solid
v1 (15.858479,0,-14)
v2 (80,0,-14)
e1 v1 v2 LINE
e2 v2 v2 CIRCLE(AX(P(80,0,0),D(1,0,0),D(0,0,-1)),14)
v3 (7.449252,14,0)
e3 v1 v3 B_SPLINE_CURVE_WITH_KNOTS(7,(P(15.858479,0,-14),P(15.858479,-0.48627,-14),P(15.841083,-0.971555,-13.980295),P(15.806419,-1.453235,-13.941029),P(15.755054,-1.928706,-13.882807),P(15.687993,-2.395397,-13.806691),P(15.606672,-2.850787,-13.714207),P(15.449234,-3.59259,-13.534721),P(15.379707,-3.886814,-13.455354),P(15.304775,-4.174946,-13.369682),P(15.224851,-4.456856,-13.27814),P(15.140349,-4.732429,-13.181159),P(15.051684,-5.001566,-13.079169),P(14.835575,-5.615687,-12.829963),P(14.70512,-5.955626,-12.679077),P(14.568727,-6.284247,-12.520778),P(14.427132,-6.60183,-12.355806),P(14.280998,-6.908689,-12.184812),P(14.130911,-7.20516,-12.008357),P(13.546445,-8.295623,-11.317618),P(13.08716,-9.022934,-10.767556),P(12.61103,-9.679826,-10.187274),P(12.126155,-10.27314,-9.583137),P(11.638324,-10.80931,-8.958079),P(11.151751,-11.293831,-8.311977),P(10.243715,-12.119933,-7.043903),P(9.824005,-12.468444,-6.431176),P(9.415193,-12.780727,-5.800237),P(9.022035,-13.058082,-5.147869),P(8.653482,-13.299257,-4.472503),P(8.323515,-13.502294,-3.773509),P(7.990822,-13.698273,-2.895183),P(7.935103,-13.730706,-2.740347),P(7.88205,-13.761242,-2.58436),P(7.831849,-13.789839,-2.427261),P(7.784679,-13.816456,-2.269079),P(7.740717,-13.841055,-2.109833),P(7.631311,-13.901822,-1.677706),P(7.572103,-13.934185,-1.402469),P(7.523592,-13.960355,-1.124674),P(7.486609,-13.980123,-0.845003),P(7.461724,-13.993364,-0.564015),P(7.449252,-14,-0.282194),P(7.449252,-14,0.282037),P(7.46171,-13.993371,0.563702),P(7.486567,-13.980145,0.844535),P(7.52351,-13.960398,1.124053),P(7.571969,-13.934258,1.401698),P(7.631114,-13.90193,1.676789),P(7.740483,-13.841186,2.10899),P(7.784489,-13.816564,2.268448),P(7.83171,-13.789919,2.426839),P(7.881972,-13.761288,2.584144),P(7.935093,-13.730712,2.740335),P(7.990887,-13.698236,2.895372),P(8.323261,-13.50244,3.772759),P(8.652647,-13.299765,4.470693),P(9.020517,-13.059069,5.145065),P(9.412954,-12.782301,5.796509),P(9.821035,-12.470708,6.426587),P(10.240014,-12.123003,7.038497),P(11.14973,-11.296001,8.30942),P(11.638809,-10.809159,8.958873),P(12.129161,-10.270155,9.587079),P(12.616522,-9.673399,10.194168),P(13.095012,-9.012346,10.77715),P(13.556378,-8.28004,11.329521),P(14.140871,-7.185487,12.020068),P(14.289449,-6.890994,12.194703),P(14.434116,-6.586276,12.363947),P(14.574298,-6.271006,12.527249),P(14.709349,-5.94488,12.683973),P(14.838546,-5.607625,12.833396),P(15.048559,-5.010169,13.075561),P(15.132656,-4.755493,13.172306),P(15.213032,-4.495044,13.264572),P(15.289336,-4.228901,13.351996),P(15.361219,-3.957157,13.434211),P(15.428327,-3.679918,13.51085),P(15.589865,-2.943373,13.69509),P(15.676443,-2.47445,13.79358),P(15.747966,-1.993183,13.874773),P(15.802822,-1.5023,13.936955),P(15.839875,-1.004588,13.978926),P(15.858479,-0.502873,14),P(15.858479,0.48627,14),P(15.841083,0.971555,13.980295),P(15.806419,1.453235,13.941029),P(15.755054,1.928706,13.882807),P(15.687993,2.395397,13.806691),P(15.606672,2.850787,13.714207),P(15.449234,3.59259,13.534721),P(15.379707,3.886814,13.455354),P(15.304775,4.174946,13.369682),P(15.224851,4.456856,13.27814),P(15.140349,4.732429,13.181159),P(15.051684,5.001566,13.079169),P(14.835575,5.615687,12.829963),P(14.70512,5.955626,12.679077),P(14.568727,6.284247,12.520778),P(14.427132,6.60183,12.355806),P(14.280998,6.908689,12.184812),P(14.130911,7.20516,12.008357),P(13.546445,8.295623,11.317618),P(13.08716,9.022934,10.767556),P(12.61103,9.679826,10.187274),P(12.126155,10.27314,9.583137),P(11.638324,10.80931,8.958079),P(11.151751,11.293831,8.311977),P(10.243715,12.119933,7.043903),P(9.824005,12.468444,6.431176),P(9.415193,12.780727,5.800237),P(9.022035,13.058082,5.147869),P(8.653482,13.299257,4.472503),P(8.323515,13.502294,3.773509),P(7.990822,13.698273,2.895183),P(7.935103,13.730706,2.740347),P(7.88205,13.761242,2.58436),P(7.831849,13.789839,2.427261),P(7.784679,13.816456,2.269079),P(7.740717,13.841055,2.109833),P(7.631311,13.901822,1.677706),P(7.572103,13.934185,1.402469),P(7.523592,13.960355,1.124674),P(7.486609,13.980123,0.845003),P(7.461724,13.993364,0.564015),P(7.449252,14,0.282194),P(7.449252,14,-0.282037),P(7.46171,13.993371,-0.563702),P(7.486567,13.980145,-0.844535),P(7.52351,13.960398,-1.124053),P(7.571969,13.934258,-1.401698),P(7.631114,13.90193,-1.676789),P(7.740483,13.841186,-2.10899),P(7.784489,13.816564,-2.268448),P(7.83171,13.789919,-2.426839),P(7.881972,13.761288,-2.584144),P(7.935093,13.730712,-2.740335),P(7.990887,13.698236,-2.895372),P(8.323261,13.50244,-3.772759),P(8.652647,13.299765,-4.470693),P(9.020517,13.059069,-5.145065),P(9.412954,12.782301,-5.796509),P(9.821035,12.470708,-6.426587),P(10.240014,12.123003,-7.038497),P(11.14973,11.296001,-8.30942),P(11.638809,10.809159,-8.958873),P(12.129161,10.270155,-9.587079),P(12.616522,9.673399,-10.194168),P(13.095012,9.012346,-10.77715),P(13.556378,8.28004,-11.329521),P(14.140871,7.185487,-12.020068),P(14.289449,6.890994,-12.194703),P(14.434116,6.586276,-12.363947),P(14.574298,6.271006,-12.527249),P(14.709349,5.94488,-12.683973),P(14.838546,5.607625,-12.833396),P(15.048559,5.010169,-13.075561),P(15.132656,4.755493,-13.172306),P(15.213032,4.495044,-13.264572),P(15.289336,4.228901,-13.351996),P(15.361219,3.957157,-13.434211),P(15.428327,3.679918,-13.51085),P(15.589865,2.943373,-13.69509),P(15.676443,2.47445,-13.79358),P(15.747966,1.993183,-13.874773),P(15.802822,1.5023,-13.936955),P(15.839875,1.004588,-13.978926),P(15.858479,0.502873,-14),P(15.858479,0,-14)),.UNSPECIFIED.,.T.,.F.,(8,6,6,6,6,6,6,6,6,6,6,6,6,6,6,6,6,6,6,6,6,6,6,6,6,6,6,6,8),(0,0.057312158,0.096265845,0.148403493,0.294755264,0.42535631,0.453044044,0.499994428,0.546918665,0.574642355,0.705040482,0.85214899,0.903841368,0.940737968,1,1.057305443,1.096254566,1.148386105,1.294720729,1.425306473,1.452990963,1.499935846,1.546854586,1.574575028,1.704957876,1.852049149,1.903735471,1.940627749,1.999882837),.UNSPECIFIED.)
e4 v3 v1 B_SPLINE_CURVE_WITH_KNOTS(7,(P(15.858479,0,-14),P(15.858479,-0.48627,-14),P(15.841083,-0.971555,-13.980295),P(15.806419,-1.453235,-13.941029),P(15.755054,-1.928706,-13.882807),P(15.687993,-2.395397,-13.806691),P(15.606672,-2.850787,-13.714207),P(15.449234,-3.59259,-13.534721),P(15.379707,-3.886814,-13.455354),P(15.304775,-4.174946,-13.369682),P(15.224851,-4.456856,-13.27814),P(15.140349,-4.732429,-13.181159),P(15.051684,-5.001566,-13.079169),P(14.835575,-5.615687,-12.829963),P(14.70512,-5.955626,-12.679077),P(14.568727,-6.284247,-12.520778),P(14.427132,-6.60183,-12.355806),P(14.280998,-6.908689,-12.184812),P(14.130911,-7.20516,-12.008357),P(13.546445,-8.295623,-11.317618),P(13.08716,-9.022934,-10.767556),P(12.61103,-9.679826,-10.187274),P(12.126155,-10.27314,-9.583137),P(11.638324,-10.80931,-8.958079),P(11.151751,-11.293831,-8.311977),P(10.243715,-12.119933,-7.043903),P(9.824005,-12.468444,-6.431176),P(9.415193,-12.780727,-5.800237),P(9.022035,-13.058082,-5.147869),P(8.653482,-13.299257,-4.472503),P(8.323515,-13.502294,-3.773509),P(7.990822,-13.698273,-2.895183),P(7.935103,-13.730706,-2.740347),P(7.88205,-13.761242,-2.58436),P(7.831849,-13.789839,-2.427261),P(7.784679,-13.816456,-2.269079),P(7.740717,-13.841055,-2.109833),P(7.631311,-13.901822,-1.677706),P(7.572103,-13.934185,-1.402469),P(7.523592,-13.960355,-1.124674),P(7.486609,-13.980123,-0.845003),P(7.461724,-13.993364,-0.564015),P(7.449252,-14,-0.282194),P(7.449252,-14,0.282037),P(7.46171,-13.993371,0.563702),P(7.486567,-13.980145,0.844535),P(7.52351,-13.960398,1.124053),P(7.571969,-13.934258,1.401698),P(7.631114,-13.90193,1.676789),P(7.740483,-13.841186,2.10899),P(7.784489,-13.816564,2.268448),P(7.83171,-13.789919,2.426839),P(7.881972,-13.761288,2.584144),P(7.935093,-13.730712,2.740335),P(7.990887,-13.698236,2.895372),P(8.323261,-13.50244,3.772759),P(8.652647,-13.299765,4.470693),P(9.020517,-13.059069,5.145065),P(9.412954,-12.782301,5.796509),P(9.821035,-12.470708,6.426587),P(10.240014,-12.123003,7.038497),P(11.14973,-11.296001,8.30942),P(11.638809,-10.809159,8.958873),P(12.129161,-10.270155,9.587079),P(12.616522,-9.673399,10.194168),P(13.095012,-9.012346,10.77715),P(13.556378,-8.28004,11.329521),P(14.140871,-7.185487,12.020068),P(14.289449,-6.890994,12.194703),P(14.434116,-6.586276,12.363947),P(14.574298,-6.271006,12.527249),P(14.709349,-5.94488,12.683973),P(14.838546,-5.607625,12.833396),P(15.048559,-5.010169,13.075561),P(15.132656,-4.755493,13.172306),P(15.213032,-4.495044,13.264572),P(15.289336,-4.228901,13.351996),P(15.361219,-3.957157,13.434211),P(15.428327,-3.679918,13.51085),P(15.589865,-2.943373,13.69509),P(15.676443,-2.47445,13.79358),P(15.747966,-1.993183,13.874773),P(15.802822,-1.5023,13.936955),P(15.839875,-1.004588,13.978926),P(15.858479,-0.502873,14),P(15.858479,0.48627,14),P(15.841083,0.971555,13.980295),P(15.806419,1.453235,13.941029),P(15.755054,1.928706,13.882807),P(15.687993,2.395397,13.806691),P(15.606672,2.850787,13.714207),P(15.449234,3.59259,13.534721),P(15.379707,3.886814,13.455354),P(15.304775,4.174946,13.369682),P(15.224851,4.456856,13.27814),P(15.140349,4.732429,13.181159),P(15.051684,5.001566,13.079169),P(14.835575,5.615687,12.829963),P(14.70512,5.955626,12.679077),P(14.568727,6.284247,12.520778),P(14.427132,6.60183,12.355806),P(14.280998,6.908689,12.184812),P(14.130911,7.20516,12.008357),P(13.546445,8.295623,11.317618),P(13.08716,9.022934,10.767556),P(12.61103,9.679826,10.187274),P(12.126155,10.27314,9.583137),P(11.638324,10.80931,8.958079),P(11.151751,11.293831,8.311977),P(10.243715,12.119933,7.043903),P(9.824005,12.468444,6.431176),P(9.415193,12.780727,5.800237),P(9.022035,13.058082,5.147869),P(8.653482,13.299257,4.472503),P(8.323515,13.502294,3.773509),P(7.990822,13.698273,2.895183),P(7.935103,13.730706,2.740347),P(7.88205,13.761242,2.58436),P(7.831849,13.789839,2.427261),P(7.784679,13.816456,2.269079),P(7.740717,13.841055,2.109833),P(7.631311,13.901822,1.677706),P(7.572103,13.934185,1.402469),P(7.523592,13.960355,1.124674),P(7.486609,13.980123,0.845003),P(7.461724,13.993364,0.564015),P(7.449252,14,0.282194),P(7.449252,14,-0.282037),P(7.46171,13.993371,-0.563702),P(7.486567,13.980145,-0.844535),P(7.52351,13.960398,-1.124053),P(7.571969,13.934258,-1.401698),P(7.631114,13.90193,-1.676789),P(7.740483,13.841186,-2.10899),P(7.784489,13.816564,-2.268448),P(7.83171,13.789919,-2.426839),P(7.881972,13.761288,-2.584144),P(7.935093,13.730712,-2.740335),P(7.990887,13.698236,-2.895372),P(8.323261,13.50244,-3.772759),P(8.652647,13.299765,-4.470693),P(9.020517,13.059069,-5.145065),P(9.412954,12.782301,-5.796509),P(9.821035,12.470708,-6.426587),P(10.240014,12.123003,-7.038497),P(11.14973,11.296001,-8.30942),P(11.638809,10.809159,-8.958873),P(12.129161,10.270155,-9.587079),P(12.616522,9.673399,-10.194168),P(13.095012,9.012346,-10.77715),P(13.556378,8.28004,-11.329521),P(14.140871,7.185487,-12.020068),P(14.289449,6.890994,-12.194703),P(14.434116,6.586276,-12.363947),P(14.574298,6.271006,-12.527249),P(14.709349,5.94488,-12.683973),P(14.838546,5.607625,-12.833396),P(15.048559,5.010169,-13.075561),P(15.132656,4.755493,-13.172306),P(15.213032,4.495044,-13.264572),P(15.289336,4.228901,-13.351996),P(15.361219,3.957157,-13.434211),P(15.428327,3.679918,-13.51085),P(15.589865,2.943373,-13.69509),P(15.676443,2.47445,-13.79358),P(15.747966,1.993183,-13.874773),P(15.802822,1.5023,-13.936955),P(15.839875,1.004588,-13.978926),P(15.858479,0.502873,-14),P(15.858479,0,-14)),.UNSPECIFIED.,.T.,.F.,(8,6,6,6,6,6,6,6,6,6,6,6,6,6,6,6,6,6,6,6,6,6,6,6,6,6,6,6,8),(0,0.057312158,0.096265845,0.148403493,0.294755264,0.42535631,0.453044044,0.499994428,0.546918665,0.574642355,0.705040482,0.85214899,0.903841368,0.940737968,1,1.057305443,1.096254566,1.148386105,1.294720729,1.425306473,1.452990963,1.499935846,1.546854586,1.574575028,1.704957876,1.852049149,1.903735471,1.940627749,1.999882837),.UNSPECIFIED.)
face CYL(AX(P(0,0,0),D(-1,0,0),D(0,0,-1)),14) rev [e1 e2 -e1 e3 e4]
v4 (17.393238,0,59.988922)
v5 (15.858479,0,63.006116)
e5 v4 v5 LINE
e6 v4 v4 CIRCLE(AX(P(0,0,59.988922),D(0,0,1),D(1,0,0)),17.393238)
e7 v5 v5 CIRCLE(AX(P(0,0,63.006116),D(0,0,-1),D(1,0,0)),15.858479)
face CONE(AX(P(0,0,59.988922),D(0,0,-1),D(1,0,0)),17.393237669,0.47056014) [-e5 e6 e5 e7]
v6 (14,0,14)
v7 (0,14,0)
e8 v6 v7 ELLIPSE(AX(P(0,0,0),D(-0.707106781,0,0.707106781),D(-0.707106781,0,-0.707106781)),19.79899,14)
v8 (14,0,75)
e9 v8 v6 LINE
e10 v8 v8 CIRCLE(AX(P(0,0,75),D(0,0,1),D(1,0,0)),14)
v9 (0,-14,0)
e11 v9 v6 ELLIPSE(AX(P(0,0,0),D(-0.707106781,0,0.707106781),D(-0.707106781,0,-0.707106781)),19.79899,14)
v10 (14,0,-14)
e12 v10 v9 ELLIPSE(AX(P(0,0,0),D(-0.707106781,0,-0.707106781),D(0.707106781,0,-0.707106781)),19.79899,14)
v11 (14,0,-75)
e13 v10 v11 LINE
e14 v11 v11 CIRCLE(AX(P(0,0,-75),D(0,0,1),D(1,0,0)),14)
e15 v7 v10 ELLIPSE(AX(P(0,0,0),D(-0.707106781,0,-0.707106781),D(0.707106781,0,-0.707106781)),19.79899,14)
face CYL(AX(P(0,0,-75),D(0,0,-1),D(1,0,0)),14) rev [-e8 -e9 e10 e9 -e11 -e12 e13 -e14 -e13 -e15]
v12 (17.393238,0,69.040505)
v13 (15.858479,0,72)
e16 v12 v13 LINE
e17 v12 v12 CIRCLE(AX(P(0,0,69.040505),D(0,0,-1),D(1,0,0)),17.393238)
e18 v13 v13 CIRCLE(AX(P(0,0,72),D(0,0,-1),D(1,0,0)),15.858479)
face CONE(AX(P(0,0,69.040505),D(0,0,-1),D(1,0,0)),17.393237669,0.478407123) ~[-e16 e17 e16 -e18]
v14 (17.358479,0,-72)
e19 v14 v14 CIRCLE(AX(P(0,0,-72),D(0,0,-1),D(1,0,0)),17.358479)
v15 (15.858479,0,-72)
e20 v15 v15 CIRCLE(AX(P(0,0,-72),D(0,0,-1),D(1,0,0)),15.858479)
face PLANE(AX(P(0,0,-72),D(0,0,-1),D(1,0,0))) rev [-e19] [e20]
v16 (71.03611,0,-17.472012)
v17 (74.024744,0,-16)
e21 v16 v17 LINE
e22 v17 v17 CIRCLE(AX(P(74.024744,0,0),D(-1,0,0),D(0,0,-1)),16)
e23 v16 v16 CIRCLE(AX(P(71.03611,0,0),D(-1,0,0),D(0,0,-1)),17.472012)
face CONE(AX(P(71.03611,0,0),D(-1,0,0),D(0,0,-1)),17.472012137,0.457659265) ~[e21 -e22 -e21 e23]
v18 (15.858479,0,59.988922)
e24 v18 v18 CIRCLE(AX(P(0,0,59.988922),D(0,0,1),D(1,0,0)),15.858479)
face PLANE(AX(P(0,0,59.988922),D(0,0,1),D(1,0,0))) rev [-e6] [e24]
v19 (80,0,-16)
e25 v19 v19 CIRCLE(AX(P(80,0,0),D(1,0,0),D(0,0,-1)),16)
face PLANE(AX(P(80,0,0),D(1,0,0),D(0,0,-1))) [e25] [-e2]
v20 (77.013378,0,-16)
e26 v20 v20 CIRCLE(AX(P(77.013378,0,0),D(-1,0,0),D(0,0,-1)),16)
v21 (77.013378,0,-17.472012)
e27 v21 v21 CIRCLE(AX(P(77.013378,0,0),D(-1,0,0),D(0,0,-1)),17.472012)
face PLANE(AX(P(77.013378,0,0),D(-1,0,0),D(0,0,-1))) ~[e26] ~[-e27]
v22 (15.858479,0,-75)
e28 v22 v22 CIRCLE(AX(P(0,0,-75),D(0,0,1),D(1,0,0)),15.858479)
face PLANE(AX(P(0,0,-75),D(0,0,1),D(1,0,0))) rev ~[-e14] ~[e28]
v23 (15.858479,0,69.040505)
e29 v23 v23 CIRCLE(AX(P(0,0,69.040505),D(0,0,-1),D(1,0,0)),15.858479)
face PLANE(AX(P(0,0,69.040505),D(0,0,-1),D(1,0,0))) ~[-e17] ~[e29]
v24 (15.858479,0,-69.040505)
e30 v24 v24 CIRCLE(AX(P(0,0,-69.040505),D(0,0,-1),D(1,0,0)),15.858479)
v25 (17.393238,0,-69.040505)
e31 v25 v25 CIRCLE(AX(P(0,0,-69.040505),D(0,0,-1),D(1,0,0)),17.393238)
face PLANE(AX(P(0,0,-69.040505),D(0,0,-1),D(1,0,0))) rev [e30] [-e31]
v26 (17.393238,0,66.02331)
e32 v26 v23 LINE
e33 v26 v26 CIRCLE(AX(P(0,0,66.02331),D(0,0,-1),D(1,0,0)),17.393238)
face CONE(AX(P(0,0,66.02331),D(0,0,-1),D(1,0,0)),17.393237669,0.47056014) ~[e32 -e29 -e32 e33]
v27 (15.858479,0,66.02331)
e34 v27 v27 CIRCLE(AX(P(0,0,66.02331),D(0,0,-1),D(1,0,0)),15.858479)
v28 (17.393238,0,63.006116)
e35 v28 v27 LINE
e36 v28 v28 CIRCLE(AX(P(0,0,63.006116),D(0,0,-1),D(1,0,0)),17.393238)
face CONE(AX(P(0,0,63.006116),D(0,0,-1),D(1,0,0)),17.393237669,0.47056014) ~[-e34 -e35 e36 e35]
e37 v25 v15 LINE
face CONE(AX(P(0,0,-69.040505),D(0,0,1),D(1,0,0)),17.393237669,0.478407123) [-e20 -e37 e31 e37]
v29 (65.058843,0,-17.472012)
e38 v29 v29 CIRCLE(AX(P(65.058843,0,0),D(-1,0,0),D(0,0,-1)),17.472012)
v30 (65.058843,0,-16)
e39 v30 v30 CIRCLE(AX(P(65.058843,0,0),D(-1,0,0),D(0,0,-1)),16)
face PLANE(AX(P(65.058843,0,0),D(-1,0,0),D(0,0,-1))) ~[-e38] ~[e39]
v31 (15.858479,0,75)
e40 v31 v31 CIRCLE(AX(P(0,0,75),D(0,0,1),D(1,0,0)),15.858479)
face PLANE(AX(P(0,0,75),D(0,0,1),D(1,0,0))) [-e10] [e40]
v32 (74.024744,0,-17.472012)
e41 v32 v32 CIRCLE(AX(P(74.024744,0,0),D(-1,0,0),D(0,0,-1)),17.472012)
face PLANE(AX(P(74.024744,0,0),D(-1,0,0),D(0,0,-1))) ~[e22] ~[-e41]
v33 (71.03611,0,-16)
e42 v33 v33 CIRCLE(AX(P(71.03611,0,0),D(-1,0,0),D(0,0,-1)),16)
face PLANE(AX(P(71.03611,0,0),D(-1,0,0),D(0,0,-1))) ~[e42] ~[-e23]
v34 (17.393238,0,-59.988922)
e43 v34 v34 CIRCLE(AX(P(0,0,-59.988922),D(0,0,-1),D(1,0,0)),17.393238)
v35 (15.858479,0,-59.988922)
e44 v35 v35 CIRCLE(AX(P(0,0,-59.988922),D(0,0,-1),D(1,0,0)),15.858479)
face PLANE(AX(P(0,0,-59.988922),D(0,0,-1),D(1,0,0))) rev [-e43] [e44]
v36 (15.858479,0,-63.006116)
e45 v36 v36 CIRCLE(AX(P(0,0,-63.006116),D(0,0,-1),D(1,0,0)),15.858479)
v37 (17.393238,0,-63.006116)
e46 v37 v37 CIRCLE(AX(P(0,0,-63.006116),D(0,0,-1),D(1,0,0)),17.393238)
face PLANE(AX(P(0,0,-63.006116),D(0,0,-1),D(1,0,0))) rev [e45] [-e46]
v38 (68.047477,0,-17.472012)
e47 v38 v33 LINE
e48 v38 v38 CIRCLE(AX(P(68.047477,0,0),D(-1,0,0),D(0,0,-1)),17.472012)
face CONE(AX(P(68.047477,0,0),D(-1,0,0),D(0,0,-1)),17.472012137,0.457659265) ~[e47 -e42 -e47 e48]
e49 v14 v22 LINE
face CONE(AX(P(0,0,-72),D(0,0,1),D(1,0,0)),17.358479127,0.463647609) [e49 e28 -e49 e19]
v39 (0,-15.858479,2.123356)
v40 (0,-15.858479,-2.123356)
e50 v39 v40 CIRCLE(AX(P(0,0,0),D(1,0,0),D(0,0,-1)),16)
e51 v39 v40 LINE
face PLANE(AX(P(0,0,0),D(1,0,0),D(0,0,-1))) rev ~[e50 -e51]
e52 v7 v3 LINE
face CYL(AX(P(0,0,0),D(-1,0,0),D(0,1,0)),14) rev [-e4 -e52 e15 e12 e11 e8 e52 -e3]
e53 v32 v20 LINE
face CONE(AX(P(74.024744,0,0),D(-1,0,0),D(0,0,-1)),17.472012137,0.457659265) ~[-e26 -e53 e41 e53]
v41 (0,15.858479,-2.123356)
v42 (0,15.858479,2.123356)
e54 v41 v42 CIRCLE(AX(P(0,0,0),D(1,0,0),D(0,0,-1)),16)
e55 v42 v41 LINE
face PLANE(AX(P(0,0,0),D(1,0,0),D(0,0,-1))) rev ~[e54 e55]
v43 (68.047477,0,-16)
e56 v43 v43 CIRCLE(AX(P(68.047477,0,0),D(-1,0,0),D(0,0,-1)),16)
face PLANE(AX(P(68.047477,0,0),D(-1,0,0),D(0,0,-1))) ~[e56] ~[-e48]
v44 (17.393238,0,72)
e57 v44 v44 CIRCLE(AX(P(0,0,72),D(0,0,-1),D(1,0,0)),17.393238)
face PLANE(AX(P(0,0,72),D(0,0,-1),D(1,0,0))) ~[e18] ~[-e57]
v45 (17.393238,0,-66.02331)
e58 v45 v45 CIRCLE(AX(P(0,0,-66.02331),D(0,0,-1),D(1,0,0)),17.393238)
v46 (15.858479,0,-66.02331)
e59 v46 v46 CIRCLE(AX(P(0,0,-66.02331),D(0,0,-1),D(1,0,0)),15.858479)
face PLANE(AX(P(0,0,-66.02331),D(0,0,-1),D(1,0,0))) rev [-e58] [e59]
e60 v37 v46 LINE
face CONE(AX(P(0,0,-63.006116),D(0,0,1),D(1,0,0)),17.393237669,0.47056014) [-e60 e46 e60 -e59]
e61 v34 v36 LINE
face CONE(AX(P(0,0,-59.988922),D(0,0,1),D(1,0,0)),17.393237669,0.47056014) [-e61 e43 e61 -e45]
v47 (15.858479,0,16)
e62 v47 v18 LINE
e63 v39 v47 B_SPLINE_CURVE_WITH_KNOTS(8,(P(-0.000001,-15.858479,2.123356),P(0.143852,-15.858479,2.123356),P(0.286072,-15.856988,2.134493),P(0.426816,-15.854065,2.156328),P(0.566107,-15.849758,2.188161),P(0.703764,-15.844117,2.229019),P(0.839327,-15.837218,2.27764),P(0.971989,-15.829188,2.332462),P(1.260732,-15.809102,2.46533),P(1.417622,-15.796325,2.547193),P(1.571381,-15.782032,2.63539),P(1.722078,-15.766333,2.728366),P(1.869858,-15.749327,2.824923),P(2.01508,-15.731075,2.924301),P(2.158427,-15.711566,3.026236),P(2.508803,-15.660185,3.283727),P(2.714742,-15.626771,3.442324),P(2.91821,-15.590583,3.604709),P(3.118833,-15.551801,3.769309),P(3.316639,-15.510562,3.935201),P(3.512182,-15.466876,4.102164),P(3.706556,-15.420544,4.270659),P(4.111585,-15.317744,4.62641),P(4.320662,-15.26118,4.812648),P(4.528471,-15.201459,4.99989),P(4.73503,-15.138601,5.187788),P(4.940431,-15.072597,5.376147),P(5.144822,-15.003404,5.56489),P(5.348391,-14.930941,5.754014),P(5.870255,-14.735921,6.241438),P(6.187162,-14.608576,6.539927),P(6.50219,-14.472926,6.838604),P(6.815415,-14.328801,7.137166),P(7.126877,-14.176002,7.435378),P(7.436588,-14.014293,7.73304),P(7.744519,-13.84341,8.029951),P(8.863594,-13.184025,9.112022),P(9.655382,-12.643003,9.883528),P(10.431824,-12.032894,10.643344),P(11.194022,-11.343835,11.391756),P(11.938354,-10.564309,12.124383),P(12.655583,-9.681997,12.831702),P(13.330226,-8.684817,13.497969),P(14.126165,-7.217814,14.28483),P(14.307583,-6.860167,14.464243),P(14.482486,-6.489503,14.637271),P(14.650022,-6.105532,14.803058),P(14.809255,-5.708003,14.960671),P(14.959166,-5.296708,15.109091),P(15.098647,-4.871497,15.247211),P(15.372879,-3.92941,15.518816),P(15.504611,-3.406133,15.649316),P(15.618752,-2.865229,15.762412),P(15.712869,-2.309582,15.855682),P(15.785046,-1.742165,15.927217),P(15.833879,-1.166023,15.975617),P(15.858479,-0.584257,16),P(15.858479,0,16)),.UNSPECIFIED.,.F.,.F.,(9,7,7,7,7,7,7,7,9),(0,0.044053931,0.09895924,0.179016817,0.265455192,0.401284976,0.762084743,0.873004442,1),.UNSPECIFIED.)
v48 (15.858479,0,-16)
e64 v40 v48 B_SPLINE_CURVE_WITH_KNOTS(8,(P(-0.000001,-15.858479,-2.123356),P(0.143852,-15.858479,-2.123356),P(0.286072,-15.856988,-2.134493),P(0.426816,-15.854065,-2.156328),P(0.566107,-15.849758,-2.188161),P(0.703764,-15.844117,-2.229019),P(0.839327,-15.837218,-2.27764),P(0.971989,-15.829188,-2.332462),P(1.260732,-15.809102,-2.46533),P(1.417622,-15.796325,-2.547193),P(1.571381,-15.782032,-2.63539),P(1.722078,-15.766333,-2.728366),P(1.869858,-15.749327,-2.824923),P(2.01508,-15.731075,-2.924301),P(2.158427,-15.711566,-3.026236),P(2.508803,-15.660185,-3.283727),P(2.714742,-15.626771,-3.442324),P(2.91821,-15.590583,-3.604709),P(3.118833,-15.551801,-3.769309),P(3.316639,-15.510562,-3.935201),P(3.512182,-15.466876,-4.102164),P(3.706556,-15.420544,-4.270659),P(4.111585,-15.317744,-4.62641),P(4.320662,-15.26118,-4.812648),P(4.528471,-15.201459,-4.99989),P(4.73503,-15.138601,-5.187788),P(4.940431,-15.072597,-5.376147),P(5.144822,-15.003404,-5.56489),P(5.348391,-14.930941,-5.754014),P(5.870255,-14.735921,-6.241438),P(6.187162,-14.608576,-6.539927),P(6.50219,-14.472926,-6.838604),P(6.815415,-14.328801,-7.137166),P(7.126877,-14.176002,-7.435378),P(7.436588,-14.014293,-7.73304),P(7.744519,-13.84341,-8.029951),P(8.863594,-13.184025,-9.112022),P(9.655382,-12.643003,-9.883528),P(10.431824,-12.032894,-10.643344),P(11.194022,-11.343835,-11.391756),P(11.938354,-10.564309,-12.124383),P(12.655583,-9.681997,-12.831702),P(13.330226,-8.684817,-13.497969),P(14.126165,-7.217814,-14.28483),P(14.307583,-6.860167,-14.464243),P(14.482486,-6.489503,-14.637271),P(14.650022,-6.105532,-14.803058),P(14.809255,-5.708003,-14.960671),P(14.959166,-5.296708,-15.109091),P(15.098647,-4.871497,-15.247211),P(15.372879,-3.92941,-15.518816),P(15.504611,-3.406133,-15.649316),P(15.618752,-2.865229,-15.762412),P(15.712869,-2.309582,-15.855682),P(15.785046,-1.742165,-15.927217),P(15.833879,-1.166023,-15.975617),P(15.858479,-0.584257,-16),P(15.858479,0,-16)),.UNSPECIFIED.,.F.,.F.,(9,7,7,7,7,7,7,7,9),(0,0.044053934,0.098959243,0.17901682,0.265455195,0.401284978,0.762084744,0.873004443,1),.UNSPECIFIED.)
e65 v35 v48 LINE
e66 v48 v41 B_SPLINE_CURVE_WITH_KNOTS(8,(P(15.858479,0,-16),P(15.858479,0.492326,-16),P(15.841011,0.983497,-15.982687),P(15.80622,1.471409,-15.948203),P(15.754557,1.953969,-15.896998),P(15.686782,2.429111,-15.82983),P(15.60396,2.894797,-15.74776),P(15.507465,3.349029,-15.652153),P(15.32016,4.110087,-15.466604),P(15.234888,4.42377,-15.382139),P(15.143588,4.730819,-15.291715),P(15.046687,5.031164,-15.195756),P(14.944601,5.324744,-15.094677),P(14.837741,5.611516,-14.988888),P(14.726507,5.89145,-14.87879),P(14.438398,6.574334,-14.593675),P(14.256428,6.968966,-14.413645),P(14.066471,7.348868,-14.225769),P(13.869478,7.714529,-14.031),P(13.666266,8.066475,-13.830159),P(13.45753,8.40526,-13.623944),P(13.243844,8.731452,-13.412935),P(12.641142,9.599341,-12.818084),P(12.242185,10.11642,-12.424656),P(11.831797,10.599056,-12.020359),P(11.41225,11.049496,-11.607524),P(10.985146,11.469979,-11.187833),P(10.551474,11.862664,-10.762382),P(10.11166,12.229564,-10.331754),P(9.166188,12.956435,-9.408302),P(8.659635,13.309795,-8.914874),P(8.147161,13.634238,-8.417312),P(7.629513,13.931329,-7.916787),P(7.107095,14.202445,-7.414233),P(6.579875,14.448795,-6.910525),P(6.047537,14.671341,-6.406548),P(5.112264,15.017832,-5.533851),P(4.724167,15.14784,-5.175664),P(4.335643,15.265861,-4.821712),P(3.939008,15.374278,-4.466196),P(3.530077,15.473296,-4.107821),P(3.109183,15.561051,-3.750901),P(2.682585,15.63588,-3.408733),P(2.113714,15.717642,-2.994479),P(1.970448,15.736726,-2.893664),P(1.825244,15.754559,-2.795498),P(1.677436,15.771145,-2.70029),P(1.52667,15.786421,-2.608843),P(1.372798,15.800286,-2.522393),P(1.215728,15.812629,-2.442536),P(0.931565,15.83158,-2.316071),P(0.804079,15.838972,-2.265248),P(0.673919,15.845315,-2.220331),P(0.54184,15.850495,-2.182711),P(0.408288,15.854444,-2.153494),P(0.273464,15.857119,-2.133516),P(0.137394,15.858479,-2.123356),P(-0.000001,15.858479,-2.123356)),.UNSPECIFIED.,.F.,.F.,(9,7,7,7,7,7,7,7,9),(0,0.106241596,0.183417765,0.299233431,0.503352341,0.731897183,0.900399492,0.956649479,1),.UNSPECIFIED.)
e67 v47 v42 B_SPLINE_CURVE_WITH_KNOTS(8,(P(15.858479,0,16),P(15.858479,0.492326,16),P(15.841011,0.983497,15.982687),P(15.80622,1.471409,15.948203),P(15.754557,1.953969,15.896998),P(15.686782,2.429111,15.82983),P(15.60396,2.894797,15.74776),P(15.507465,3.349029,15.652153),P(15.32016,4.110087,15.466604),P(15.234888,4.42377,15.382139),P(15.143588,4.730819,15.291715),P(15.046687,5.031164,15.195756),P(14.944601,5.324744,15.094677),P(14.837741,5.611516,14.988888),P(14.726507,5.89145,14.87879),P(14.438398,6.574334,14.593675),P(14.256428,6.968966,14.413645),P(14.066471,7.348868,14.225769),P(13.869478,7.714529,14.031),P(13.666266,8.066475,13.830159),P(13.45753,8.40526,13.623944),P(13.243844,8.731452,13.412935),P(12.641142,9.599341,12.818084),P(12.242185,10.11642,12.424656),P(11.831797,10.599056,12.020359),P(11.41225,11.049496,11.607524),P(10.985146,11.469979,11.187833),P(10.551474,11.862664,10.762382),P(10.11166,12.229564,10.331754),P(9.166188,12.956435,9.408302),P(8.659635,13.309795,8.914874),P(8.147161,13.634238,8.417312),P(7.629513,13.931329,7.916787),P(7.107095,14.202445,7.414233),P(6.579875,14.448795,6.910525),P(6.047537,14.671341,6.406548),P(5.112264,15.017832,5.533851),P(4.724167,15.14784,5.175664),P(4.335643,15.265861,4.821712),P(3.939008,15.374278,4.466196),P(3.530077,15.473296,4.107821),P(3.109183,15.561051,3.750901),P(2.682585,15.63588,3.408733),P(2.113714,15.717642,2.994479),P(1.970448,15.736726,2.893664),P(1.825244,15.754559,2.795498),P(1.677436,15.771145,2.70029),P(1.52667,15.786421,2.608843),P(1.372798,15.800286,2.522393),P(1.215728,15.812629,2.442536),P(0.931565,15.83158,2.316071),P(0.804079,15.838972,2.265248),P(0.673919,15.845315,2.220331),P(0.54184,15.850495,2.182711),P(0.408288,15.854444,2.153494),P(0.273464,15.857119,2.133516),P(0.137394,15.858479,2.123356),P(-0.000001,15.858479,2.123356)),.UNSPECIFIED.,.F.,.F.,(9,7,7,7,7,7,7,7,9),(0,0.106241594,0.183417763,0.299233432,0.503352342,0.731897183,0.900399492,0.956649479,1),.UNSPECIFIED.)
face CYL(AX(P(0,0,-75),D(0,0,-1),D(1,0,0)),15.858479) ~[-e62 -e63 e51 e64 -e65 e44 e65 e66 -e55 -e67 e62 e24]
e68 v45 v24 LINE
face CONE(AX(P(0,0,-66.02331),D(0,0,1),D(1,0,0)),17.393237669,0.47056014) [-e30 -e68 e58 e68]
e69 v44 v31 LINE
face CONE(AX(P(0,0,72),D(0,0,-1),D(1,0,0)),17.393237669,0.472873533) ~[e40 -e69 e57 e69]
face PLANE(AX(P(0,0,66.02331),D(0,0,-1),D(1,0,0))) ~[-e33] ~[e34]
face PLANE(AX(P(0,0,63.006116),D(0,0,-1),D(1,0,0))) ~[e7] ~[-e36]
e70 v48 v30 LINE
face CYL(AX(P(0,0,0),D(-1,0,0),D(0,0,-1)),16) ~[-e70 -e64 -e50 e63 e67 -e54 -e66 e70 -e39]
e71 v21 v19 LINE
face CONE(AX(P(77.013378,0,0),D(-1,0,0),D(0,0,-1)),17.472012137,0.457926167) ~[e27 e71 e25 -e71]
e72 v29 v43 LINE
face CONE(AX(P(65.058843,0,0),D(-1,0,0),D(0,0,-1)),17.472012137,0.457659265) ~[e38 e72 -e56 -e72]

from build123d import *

# Parameters (mm, degrees)
BOSS_EXTRUDE1_DEPTH      = 75
BOSS_EXTRUDE1_DEPTH_BACK = 75
SKETCH1_R                = 15.858479127
SKETCH1_R_2              = 14
SKETCH12_R               = 16
SKETCH12_R_2             = 14
BOSS_EXTRUDE2_DEPTH      = 80
SKETCH13_R               = 14
CUT_EXTRUDE1_DEPTH       = 81
CUT_EXTRUDE2_DEPTH       = 90
CUT_EXTRUDE2_DEPTH_BACK  = 95
SKETCH15_R               = 14


with BuildPart() as part:
    # Sketch1 → Boss-Extrude1 (new, two sides: drawn at the far end of the back side and taken through both)
    with BuildSketch(Plane.XY.offset(-BOSS_EXTRUDE1_DEPTH_BACK)):
        Circle(SKETCH1_R)
        Circle(SKETCH1_R_2, mode=Mode.SUBTRACT)
    extrude(amount=BOSS_EXTRUDE1_DEPTH + BOSS_EXTRUDE1_DEPTH_BACK)

    # Sketch2 → Revolve1 (revolve)
    with BuildSketch(Plane(origin=(0, 0, 0), x_dir=(0, 0, -1), z_dir=(1, 0, 0)), mode=Mode.PRIVATE) as revolve1_sk:
        Polygon((75, 15.858479127), (72, 15.858479127), (72, 17.358479127), align=None)
    revolve(revolve1_sk.sketch.rotate(Axis((0, 0, 0), (0, 0, -1)), 90), axis=Axis((0, 0, 0), (0, 0, -1)))

    # Sketch3 → Revolve2 (revolve)
    with BuildSketch(Plane(origin=(0, 0, 0), x_dir=(0, 0, -1), z_dir=(1, 0, 0)), mode=Mode.PRIVATE) as revolve2_sk:
        Polygon((72, 15.858479127), (69.040504624, 15.858479127), (69.040504624, 17.393237669), align=None)
    revolve(revolve2_sk.sketch.rotate(Axis((0, 0, 0), (0, 0, -1)), 90), axis=Axis((0, 0, 0), (0, 0, -1)))

    # Sketch4 → Revolve3 (revolve)
    with BuildSketch(Plane(origin=(0, 0, 0), x_dir=(0, 0, -1), z_dir=(1, 0, 0)), mode=Mode.PRIVATE) as revolve3_sk:
        Polygon((69.040504624, 15.858479127), (66.023310335, 15.858479127), (66.023310335, 17.393237669), align=None)
    revolve(revolve3_sk.sketch.rotate(Axis((0, 0, 0), (0, 0, -1)), 90), axis=Axis((0, 0, 0), (0, 0, -1)))

    # Sketch5 → Revolve4 (revolve)
    with BuildSketch(Plane(origin=(0, 0, 0), x_dir=(0, 0, -1), z_dir=(1, 0, 0)), mode=Mode.PRIVATE) as revolve4_sk:
        Polygon((66.023310335, 15.858479127), (63.006116045, 15.858479127), (63.006116045, 17.393237669), align=None)
    revolve(revolve4_sk.sketch.rotate(Axis((0, 0, 0), (0, 0, -1)), 90), axis=Axis((0, 0, 0), (0, 0, -1)))

    # Sketch6 → Revolve5 (revolve)
    with BuildSketch(Plane(origin=(0, 0, 0), x_dir=(0, 0, -1), z_dir=(1, 0, 0)), mode=Mode.PRIVATE) as revolve5_sk:
        Polygon((63.006116045, 15.858479127), (59.988921756, 15.858479127), (59.988921756, 17.393237669), align=None)
    revolve(revolve5_sk.sketch.rotate(Axis((0, 0, 0), (0, 0, -1)), 90), axis=Axis((0, 0, 0), (0, 0, -1)))

    # Sketch7 → Revolve6 (revolve)
    with BuildSketch(Plane(origin=(0, 0, 0), x_dir=(0, 0, -1), z_dir=(1, 0, 0)), mode=Mode.PRIVATE) as revolve6_sk:
        Polygon((-75, 15.858479127), (-72, 15.858479127), (-72, 17.393237669), align=None)
    revolve(revolve6_sk.sketch.rotate(Axis((0, 0, 0), (0, 0, -1)), 90), axis=Axis((0, 0, 0), (0, 0, -1)))

    # Sketch8 → Revolve7 (revolve)
    with BuildSketch(Plane(origin=(0, 0, 0), x_dir=(0, 0, -1), z_dir=(1, 0, 0)), mode=Mode.PRIVATE) as revolve7_sk:
        Polygon((-72, 15.858479127), (-69.040504624, 15.858479127), (-69.040504624, 17.393237669), align=None)
    revolve(revolve7_sk.sketch.rotate(Axis((0, 0, 0), (0, 0, -1)), 90), axis=Axis((0, 0, 0), (0, 0, -1)))

    # Sketch9 → Revolve8 (revolve)
    with BuildSketch(Plane(origin=(0, 0, 0), x_dir=(0, 0, -1), z_dir=(1, 0, 0)), mode=Mode.PRIVATE) as revolve8_sk:
        Polygon((-69.040504624, 15.858479127), (-66.023310335, 15.858479127), (-66.023310335, 17.393237669), align=None)
    revolve(revolve8_sk.sketch.rotate(Axis((0, 0, 0), (0, 0, -1)), 90), axis=Axis((0, 0, 0), (0, 0, -1)))

    # Sketch10 → Revolve9 (revolve)
    with BuildSketch(Plane(origin=(0, 0, 0), x_dir=(0, 0, -1), z_dir=(1, 0, 0)), mode=Mode.PRIVATE) as revolve9_sk:
        Polygon((-66.023310335, 15.858479127), (-63.006116045, 15.858479127), (-63.006116045, 17.393237669), align=None)
    revolve(revolve9_sk.sketch.rotate(Axis((0, 0, 0), (0, 0, -1)), 90), axis=Axis((0, 0, 0), (0, 0, -1)))

    # Sketch11 → Revolve10 (revolve)
    with BuildSketch(Plane(origin=(0, 0, 0), x_dir=(0, 0, -1), z_dir=(1, 0, 0)), mode=Mode.PRIVATE) as revolve10_sk:
        Polygon((-63.006116045, 15.858479127), (-59.988921756, 15.858479127), (-59.988921756, 17.393237669), align=None)
    revolve(revolve10_sk.sketch.rotate(Axis((0, 0, 0), (0, 0, 1)), 270), axis=Axis((0, 0, 0), (0, 0, 1)))

    # Sketch12 → Boss-Extrude2 (add)
    with BuildSketch(Plane(origin=(0, 0, 0), x_dir=(0, 0, -1), z_dir=(1, 0, 0))):
        Circle(SKETCH12_R)
        Circle(SKETCH12_R_2, mode=Mode.SUBTRACT)
    extrude(amount=BOSS_EXTRUDE2_DEPTH)

    # Sketch13 → Cut-Extrude1 (cut)
    with BuildSketch(Plane(origin=(0, 0, 0), x_dir=(0, 0, -1), z_dir=(1, 0, 0))):
        with Locations(Location((0, 0, 0), (0, 0, 90))):
            Circle(SKETCH13_R)
    extrude(amount=CUT_EXTRUDE1_DEPTH, mode=Mode.SUBTRACT)

    # Sketch15 → Cut-Extrude2 (cut, two sides: drawn at the far end of the back side and taken through both)
    with BuildSketch(Plane.XY.offset(-CUT_EXTRUDE2_DEPTH_BACK)):
        Circle(SKETCH15_R)
    extrude(amount=CUT_EXTRUDE2_DEPTH + CUT_EXTRUDE2_DEPTH_BACK, mode=Mode.SUBTRACT)

    # Sketch16 → Revolve11 (revolve)
    with BuildSketch(Plane.XY, mode=Mode.PRIVATE) as revolve11_sk:
        Polygon((80, 16), (77.013377654, 16), (77.013377654, 17.472012137), align=None)
    revolve(revolve11_sk.sketch.rotate(Axis((0, 0, 0), (-1, 0, 0)), 90), axis=Axis((0, 0, 0), (-1, 0, 0)))

    # Sketch17 → Revolve12 (revolve)
    with BuildSketch(Plane.XY, mode=Mode.PRIVATE) as revolve12_sk:
        Polygon((77.013377654, 16), (74.024743999, 16), (74.024743999, 17.472012137), align=None)
    revolve(revolve12_sk.sketch.rotate(Axis((0, 0, 0), (-1, 0, 0)), 90), axis=Axis((0, 0, 0), (-1, 0, 0)))

    # Sketch18 → Revolve13 (revolve)
    with BuildSketch(Plane.XY, mode=Mode.PRIVATE) as revolve13_sk:
        Polygon((74.024743999, 16), (71.036110344, 16), (71.036110344, 17.472012137), align=None)
    revolve(revolve13_sk.sketch.rotate(Axis((0, 0, 0), (-1, 0, 0)), 90), axis=Axis((0, 0, 0), (-1, 0, 0)))

    # Sketch19 → Revolve14 (revolve)
    with BuildSketch(Plane.XY, mode=Mode.PRIVATE) as revolve14_sk:
        Polygon((71.036110344, 16), (68.047476689, 16), (68.047476689, 17.472012137), align=None)
    revolve(revolve14_sk.sketch.rotate(Axis((0, 0, 0), (-1, 0, 0)), 90), axis=Axis((0, 0, 0), (-1, 0, 0)))

    # Sketch20 → Revolve15 (revolve)
    with BuildSketch(Plane.XY, mode=Mode.PRIVATE) as revolve15_sk:
        Polygon((68.047476689, 16), (65.058843034, 16), (65.058843034, 17.472012137), align=None)
    revolve(revolve15_sk.sketch.rotate(Axis((0, 0, 0), (-1, 0, 0)), 90), axis=Axis((0, 0, 0), (-1, 0, 0)))


solid = part.part
